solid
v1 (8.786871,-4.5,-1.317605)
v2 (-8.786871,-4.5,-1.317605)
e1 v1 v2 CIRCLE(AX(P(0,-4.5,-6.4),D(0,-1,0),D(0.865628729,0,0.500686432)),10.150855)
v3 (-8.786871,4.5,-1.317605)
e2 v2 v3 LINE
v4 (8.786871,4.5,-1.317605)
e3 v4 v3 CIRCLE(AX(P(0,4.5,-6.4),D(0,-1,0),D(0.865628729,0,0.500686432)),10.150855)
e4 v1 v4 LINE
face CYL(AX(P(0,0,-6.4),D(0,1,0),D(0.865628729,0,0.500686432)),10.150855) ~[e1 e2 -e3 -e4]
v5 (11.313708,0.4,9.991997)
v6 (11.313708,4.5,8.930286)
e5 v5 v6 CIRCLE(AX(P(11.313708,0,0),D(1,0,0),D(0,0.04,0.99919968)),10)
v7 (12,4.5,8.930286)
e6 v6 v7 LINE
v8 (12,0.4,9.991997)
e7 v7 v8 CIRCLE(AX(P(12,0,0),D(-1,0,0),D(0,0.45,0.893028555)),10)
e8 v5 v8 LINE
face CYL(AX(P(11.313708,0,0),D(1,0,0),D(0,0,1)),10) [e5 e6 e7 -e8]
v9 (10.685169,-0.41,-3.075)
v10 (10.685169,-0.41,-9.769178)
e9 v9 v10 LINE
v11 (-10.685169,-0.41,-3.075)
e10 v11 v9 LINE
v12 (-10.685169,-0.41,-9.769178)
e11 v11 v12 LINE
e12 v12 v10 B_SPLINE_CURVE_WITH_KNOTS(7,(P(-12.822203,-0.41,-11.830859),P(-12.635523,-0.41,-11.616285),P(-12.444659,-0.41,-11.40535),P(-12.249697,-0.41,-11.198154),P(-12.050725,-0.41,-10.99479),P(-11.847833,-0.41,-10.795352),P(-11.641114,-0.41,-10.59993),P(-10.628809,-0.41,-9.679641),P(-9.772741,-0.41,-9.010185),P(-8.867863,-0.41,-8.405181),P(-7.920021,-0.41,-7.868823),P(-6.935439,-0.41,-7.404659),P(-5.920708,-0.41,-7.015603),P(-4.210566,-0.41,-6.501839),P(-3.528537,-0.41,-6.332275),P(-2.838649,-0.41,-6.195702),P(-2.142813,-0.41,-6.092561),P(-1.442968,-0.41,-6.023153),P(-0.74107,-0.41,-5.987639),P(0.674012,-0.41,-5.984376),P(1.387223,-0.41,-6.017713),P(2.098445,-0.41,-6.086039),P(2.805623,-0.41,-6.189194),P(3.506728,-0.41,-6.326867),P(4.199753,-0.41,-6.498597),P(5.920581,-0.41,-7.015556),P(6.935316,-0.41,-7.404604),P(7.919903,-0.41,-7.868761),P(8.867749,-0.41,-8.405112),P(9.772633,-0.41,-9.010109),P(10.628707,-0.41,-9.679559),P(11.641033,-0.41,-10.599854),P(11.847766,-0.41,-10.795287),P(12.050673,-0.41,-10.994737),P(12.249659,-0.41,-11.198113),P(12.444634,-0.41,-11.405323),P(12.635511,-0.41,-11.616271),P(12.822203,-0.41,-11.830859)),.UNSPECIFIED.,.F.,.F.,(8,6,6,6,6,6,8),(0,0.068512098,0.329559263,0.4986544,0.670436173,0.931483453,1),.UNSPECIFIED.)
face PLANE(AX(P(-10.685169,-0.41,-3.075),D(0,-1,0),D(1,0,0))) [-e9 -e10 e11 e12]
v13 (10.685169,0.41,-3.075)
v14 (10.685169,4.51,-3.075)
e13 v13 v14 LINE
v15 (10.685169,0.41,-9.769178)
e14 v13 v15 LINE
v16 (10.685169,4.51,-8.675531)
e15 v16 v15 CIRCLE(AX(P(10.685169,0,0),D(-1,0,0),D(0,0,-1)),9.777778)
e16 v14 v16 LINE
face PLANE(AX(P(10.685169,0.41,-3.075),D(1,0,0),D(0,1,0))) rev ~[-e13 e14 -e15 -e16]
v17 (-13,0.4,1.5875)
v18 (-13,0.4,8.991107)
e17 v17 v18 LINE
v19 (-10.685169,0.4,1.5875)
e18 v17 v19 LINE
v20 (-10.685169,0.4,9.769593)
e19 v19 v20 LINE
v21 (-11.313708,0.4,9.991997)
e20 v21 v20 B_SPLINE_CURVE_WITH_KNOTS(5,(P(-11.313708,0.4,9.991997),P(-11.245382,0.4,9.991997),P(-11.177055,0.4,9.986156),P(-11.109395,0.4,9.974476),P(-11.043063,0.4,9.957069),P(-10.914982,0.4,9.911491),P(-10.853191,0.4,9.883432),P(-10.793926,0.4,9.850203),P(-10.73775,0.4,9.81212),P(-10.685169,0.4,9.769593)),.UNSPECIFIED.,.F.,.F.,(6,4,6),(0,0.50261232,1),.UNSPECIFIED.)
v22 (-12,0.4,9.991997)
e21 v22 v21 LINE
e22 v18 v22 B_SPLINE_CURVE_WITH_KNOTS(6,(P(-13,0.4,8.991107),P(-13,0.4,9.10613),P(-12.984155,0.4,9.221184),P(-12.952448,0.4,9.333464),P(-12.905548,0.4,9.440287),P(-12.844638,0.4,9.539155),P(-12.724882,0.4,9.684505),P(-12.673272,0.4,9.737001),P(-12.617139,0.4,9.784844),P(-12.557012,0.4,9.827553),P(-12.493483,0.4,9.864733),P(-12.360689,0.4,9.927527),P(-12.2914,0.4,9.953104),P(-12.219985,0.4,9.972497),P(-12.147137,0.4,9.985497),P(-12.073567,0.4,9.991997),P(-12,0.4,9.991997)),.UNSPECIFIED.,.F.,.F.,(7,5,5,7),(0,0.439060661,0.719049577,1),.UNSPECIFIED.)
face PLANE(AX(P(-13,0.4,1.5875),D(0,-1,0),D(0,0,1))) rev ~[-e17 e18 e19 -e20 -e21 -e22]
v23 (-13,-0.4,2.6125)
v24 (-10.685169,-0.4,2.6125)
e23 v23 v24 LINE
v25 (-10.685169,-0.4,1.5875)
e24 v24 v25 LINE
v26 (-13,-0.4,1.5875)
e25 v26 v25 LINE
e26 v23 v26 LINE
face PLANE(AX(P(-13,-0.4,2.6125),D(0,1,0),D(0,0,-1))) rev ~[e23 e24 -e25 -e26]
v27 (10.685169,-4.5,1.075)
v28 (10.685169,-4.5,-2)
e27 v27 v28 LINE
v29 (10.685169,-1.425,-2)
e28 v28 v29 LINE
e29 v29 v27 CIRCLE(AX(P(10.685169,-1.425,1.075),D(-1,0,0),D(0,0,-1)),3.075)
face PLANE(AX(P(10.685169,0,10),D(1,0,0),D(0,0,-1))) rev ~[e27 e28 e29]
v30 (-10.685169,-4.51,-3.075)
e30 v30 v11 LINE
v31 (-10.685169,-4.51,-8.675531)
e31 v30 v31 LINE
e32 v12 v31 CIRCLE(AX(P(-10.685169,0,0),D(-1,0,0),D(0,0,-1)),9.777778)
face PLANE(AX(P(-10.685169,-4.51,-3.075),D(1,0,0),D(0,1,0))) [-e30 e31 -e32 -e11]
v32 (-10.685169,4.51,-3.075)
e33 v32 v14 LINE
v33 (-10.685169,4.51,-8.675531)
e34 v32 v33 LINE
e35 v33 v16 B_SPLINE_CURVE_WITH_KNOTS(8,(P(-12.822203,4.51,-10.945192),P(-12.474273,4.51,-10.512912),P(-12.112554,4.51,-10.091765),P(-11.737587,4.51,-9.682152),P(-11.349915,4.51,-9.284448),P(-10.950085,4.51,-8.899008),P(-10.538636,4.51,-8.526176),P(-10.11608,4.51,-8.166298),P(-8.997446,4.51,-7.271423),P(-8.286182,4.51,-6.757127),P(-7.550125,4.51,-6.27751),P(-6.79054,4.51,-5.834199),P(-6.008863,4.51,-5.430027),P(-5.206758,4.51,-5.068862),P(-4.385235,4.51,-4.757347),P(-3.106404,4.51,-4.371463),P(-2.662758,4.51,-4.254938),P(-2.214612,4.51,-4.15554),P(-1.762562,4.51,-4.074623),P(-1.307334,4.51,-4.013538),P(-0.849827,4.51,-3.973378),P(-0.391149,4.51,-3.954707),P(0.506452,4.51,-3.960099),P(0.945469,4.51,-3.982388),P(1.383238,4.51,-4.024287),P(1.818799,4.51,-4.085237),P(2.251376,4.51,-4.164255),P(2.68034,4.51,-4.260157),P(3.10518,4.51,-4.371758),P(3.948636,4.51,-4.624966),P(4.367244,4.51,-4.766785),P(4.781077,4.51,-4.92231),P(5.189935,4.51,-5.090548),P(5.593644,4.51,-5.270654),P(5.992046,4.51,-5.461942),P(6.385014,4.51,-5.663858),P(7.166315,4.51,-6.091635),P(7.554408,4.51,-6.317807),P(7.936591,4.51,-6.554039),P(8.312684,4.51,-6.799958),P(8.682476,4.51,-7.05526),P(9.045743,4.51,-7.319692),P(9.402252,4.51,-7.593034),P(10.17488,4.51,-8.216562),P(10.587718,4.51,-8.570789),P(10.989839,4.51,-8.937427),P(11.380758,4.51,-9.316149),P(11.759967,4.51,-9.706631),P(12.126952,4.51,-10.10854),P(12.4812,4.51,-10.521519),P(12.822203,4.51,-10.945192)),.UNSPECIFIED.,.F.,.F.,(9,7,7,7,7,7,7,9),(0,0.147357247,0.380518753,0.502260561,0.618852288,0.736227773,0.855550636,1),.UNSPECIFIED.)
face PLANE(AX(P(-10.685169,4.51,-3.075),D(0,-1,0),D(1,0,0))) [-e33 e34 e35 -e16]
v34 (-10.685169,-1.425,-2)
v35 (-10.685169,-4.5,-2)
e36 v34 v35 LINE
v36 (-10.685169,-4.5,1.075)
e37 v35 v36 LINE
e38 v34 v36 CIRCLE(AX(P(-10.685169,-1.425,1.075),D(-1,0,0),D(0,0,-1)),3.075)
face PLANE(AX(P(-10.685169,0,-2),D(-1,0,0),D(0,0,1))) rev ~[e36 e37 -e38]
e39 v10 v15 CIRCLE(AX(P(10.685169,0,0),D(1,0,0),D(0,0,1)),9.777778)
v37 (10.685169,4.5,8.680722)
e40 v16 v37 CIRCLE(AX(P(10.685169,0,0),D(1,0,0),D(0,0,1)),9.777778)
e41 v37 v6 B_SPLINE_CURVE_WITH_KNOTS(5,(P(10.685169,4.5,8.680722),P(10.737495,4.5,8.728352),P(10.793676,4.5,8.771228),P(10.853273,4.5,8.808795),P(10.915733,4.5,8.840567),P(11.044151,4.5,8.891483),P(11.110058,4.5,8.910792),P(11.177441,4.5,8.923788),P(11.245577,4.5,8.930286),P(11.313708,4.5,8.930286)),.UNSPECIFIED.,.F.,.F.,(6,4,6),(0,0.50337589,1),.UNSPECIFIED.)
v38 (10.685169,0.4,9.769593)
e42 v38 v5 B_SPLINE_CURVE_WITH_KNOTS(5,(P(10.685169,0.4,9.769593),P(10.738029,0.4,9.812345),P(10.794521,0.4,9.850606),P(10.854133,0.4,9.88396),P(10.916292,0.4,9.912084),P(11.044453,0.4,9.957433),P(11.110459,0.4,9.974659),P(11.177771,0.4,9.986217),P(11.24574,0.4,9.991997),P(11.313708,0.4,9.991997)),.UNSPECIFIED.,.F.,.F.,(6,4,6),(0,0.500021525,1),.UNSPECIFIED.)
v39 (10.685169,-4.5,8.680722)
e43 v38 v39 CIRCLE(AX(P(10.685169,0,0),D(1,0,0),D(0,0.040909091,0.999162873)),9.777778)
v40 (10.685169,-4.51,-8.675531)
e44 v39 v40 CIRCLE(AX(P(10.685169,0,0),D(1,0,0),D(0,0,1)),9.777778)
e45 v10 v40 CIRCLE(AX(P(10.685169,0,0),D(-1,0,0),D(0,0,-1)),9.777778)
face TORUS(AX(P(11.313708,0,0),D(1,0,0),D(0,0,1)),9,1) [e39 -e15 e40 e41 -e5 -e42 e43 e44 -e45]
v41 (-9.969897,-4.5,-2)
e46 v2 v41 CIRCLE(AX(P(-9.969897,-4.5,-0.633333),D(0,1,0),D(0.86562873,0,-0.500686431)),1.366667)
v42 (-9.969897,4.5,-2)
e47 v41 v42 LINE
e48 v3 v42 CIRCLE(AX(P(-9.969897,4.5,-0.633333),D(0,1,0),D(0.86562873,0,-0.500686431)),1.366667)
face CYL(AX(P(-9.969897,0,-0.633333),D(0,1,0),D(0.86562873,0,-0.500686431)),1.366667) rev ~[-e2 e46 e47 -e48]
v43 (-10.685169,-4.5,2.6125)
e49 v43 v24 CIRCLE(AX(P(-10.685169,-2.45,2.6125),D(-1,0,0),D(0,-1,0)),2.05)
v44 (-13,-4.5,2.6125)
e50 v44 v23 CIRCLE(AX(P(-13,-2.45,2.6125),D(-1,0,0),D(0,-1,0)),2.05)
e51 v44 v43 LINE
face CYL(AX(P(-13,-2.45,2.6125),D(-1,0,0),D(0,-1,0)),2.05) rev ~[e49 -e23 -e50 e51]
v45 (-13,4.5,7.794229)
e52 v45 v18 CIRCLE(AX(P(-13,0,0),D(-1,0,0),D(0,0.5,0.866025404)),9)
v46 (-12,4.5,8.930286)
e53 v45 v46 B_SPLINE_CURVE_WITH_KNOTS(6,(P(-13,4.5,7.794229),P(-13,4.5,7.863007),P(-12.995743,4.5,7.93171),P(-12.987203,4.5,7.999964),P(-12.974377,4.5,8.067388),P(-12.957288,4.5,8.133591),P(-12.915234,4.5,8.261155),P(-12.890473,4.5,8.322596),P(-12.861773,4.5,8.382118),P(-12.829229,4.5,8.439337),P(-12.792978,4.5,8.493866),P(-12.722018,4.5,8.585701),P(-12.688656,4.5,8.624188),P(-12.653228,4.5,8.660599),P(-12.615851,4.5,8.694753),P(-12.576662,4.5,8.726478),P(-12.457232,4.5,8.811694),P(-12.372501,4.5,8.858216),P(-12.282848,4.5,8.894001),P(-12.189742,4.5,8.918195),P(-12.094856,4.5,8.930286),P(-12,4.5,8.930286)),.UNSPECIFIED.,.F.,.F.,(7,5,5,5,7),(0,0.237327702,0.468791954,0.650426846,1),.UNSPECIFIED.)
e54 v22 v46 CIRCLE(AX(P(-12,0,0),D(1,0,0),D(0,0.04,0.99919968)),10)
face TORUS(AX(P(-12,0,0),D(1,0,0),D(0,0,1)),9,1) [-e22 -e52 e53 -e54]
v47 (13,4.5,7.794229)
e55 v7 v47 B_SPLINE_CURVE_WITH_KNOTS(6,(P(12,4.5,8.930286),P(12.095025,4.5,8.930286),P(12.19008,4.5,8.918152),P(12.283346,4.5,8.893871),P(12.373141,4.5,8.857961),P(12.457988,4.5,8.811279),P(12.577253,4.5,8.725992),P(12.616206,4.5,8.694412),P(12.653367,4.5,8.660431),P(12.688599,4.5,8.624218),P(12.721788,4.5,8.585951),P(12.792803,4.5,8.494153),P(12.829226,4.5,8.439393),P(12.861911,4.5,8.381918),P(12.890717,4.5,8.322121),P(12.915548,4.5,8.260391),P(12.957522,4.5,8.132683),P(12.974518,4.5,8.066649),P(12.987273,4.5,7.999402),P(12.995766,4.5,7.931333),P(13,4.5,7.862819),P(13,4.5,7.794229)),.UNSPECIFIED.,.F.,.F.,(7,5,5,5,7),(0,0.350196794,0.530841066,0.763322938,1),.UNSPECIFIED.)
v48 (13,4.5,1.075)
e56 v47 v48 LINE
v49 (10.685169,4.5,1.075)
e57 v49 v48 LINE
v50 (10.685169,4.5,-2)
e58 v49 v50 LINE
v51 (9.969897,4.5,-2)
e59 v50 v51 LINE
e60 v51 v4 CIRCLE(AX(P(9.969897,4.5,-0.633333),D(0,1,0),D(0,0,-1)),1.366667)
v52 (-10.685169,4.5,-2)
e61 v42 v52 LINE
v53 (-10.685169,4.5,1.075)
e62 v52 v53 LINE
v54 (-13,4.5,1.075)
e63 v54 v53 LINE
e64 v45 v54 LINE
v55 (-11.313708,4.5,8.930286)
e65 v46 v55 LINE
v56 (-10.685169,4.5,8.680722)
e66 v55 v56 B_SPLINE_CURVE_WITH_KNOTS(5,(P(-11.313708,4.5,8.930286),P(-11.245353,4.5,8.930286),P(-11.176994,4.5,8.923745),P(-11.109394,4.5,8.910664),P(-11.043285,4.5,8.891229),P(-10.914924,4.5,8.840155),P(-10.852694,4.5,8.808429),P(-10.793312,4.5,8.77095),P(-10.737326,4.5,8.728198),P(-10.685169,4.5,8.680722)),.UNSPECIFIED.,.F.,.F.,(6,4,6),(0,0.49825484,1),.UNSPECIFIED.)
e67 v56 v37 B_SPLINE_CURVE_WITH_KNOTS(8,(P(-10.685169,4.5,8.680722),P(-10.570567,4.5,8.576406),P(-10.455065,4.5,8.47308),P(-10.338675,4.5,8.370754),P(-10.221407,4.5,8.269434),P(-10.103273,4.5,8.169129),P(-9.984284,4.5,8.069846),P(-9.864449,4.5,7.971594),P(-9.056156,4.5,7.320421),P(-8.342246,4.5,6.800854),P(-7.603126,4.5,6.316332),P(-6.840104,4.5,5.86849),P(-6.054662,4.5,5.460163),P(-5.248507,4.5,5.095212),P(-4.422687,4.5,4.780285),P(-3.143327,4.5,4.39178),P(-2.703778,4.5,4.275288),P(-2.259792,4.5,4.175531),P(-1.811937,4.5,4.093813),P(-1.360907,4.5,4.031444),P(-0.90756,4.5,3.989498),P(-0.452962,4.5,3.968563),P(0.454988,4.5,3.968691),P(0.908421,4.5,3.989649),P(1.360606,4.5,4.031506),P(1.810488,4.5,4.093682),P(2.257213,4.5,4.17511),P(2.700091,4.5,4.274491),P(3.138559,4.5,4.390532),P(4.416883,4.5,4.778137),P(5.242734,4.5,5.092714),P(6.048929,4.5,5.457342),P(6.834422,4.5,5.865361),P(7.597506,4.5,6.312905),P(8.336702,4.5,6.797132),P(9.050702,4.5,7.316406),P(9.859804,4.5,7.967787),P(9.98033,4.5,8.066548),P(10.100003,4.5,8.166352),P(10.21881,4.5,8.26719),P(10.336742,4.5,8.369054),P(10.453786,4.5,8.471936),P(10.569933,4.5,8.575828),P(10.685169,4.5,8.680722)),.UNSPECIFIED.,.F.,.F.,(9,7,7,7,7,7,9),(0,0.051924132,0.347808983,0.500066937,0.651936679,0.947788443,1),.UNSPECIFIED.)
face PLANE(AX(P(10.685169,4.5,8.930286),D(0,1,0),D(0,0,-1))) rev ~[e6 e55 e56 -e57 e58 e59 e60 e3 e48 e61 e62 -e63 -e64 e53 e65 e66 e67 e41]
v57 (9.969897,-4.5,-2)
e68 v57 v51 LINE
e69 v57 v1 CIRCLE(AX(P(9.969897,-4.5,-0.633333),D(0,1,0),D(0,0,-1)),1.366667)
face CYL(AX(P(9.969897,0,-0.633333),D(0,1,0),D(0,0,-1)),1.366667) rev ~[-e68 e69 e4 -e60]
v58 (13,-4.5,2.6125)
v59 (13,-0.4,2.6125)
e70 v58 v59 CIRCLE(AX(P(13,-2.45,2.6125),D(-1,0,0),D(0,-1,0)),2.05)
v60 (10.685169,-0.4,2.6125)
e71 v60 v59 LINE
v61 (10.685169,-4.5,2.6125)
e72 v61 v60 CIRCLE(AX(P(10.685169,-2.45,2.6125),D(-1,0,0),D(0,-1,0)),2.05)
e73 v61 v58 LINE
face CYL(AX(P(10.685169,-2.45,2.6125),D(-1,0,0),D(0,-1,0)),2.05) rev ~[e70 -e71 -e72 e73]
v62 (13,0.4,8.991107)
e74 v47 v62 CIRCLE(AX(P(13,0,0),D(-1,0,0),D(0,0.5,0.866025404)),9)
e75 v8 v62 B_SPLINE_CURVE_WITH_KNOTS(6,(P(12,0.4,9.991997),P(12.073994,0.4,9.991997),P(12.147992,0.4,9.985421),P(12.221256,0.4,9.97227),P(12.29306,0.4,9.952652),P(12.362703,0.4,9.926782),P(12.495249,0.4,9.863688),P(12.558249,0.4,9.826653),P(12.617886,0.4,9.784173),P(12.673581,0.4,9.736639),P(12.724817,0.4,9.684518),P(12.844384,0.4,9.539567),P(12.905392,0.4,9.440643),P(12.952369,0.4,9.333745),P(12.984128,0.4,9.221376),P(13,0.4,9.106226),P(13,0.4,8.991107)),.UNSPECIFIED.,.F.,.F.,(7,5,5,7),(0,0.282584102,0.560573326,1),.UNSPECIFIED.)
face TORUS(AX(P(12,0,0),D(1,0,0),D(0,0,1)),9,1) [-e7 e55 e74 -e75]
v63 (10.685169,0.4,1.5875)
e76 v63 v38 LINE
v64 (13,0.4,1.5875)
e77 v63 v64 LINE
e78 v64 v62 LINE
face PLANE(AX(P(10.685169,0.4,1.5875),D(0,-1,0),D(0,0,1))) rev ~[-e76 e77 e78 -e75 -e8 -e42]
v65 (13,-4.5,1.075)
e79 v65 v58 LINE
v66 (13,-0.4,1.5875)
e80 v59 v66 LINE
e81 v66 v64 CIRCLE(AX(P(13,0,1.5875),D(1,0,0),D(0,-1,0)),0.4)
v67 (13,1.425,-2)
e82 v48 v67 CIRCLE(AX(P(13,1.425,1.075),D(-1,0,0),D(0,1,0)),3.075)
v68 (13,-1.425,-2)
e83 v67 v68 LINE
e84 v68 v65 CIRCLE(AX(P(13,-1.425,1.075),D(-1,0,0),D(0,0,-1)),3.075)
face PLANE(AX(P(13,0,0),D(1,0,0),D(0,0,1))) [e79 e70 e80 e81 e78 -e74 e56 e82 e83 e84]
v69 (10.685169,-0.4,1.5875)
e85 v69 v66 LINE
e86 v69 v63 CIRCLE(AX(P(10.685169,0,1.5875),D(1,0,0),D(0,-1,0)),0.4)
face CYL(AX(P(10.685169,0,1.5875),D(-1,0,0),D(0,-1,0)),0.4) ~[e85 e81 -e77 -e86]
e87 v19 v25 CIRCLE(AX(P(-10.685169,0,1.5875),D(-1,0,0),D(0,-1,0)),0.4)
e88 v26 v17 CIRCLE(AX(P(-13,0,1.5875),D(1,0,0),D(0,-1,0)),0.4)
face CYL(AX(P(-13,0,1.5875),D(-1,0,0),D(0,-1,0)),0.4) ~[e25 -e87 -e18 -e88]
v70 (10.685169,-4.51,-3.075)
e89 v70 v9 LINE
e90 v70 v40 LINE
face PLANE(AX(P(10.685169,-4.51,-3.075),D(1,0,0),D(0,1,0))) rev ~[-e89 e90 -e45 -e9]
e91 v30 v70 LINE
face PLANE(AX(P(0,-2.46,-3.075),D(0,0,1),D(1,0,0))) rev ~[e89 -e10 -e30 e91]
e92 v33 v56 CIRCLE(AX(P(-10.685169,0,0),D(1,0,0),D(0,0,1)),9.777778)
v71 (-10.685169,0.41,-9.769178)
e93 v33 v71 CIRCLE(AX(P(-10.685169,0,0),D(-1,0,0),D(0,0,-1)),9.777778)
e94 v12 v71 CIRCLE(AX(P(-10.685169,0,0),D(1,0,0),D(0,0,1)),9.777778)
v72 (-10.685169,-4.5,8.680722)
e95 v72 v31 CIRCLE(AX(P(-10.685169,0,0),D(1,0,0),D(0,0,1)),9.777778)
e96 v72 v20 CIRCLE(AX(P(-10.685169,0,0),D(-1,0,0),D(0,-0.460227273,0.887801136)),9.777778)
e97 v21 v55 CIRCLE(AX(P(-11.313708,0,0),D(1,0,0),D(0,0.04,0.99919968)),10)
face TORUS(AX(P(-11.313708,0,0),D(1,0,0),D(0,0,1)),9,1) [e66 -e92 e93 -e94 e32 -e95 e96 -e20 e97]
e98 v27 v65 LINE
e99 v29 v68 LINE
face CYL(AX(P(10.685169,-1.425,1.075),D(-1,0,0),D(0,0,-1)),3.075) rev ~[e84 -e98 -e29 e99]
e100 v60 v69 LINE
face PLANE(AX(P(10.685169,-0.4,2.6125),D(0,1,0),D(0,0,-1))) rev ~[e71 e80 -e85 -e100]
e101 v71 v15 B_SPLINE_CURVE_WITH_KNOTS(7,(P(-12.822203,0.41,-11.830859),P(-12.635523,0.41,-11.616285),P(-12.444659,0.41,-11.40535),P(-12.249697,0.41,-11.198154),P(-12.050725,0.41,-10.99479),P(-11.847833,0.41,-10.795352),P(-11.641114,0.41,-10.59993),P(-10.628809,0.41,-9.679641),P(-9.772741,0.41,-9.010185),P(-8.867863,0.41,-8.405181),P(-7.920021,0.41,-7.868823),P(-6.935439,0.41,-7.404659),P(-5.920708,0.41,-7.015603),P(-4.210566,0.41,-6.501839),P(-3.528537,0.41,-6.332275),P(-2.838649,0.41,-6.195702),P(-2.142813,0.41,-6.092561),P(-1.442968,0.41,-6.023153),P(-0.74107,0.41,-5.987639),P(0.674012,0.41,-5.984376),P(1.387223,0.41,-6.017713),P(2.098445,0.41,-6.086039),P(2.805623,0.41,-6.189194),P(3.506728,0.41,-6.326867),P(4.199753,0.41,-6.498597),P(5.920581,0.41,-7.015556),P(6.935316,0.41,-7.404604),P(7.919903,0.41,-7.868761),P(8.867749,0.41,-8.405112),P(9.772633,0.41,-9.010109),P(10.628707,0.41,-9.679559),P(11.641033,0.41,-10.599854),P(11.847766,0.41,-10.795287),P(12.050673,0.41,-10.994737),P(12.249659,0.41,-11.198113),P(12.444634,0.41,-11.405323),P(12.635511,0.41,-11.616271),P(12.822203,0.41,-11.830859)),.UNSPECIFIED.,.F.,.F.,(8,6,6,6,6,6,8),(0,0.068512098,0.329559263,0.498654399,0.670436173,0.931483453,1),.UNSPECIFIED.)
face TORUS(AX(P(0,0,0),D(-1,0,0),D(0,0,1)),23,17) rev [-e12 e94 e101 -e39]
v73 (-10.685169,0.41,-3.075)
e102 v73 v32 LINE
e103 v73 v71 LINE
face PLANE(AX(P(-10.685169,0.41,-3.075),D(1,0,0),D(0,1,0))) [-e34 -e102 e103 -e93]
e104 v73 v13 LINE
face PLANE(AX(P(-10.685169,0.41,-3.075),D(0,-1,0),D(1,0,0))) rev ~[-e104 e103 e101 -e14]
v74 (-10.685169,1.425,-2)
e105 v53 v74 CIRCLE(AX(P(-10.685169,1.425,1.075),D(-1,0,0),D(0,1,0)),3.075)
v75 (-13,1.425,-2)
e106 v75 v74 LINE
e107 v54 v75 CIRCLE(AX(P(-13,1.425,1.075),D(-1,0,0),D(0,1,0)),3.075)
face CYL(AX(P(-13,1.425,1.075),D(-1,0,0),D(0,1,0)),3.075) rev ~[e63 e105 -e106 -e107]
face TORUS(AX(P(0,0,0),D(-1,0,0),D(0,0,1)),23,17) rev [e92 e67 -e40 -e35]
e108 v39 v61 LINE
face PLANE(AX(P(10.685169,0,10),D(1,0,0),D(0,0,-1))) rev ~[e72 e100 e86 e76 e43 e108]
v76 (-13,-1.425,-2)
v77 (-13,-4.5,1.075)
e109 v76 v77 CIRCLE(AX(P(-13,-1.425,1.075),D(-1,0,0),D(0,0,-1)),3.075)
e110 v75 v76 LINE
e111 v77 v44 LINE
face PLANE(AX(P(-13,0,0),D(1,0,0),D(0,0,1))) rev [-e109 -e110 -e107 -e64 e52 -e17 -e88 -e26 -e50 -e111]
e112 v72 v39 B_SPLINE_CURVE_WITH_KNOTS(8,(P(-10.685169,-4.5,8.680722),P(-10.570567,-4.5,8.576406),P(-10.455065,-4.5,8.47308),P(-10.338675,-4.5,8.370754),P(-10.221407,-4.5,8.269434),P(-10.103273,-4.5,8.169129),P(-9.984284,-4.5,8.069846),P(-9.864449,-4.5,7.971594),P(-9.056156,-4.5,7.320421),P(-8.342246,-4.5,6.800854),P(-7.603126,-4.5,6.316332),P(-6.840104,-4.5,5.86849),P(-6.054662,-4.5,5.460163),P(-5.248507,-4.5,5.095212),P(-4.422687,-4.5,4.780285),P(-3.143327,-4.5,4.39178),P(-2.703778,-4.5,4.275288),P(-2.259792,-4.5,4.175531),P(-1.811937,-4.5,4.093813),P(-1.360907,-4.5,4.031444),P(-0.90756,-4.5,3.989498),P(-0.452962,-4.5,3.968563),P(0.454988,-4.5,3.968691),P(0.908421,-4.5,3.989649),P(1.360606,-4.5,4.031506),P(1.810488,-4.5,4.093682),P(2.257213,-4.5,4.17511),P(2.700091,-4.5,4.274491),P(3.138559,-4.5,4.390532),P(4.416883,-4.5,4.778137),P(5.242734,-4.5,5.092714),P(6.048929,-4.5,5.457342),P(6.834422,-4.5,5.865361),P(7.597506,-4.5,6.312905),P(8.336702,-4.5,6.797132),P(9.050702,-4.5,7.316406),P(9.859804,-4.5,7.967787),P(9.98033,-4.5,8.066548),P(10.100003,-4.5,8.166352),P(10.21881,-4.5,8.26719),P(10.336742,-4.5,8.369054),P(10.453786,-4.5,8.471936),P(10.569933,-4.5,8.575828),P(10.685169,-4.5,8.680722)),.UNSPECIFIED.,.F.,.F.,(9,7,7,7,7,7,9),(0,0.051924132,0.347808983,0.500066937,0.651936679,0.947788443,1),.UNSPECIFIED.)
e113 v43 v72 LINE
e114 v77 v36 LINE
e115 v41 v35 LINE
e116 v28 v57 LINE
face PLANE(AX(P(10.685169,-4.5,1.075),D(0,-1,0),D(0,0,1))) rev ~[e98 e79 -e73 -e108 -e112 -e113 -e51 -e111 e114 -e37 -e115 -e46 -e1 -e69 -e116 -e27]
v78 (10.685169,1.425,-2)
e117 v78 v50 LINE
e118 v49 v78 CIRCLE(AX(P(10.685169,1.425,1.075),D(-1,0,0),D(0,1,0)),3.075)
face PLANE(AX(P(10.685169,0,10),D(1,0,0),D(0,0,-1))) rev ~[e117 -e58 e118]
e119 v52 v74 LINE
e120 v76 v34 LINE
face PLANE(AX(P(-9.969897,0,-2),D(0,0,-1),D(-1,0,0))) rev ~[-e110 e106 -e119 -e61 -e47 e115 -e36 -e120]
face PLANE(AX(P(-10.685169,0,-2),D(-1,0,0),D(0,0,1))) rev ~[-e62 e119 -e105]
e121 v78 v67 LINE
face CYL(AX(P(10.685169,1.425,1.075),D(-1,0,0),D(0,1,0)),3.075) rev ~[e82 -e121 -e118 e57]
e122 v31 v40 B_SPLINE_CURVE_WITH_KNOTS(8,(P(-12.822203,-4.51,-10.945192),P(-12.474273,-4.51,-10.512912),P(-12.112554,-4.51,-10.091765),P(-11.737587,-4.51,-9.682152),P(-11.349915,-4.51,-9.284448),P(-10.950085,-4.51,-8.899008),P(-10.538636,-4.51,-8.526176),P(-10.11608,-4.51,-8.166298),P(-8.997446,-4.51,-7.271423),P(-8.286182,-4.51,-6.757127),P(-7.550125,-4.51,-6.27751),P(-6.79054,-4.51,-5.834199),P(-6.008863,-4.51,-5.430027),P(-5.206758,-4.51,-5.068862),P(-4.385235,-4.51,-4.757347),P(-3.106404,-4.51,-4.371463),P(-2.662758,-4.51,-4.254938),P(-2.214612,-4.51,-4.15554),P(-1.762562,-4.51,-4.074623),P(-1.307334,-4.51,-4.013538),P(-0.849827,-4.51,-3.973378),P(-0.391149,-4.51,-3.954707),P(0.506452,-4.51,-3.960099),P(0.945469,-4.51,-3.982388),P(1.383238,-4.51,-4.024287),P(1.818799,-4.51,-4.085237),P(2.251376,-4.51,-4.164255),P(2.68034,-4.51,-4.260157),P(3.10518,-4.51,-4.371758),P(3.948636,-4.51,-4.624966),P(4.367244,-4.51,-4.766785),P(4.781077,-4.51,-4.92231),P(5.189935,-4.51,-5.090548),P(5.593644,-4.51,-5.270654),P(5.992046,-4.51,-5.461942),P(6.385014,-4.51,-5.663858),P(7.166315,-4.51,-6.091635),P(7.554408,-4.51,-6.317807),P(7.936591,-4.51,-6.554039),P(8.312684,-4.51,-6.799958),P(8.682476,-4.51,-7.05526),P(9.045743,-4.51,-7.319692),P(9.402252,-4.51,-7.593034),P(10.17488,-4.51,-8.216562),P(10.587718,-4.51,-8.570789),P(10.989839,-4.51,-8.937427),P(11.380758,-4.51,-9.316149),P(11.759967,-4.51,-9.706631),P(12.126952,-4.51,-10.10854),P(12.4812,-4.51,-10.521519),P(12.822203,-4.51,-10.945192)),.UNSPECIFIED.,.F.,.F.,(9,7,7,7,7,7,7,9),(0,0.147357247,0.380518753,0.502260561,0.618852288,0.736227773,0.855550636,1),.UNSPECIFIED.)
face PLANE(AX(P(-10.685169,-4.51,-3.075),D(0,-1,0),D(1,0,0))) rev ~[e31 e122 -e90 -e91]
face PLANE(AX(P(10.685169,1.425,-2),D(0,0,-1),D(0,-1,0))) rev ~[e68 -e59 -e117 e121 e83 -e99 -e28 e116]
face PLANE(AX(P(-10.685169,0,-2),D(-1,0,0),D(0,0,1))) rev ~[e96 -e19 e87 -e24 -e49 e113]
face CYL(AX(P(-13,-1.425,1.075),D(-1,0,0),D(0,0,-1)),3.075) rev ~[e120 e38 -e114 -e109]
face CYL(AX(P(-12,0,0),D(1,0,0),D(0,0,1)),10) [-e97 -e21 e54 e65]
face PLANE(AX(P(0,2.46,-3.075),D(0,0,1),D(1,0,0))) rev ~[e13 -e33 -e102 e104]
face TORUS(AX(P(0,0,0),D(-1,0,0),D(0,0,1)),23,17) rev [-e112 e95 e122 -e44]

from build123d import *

# Parameters (mm, degrees)
CUT_EXTRUDE1_DEPTH            = 4.5
CUT_EXTRUDE4_REACH            = 31.597
CUT_EXTRUDE5_START            = -2.314830862
CUT_EXTRUDE5_DEPTH            = 2.314830862
CUT_EXTRUDE6_REACH            = 22.975
CUT_EXTRUDE6_END_MAJOR_RADIUS = 23
CUT_EXTRUDE6_END_MINOR_RADIUS = 17
SKETCH10_W                    = 21.370338276
SKETCH10_H                    = 4.1


with BuildPart() as part:
    # Sketch1 → Revolve1 (revolve)
    with BuildSketch(Plane(origin=(0, 0, 0), x_dir=(1, 0, 0), z_dir=(0, 1, 0)), mode=Mode.PRIVATE) as revolve1_sk:
        with BuildLine():
            Line((11.313708499, 10), (12, 10))
            ThreePointArc((12, 10), (12.707106781, 9.707106781), (13, 9))
            Line((13, 9), (13, 0))
            Line((13, 0), (-13, 0))
            Line((-13, 0), (-13, 9))
            ThreePointArc((-13, 9), (-12.707106781, 9.707106781), (-12, 10))
            Line((-12, 10), (-11.313708499, 10))
            ThreePointArc((-11.313708499, 10), (-10.980375166, 9.942809042), (-10.685169138, 9.777777778))
            ThreePointArc((-10.685169138, 9.777777778), (0, 6), (10.685169138, 9.777777778))
            ThreePointArc((10.685169138, 9.777777778), (10.980375166, 9.942809042), (11.313708499, 10))
        make_face()
    revolve(revolve1_sk.sketch.rotate(Axis((-13, 0, 0), (1, 0, 0)), 180), axis=Axis((-13, 0, 0), (1, 0, 0)))

    # Sketch3 → Cut-Extrude1 (cut, symmetric)
    with BuildSketch(Plane(origin=(0, 0, 0), x_dir=(1, 0, 0), z_dir=(0, 1, 0))):
        with BuildLine():
            Line((-9.147669138, -10), (9.147669138, -10))
            Line((9.147669138, -10), (10.685169138, -10))
            Line((10.685169138, -10), (10.685169138, 2))
            Line((10.685169138, 2), (9.969897363, 2))
            ThreePointArc((9.969897363, 2), (9.287033253, 1.817172167), (8.786871434, 1.31760479))
            ThreePointArc((8.786871434, 1.31760479), (0, -3.750854676), (-8.786871434, 1.31760479))
            ThreePointArc((-8.786871434, 1.31760479), (-9.287033253, 1.817172167), (-9.969897363, 2))
            Line((-9.969897363, 2), (-10.685169138, 2))
            Line((-10.685169138, 2), (-10.685169138, -10))
            Line((-10.685169138, -10), (-9.147669138, -10))
        make_face()
    extrude(amount=CUT_EXTRUDE1_DEPTH, both=True, mode=Mode.SUBTRACT)

    # Cut-Extrude4: up to this face of the body (flat: up to its plane)
    cut_extrude4_end = Plane(part.part.faces().sort_by_distance((-10.685169138, 0, 3.71495774))[0])
    # Sketch6 → Cut-Extrude4 (cut, up to the picked face)
    with BuildSketch(Plane.ZY.offset(13), mode=Mode.PRIVATE) as cut_extrude4_sk1:
        with BuildLine():
            Line((1.075, -4.5), (2.6125, -4.5))
            ThreePointArc((2.6125, -4.5), (4.6625, -2.45), (2.6125, -0.4))
            Line((2.6125, -0.4), (1.5875, -0.4))
            ThreePointArc((1.5875, -0.4), (1.1875, 0), (1.5875, 0.4))
            Line((1.5875, 0.4), (9.991996797, 0.4))
            ThreePointArc((9.991996797, 0.4), (9.680686562, 2.506852148), (8.93028555, 4.5))
            Line((8.93028555, 4.5), (1.075, 4.5))
            ThreePointArc((1.075, 4.5), (-1.099353352, 3.599353352), (-2, 1.425))
            Line((-2, 1.425), (-2, -1.425))
            ThreePointArc((-2, -1.425), (-1.099353352, -3.599353352), (1.075, -4.5))
        make_face()
    cut_extrude4_tool1 = split(extrude(cut_extrude4_sk1.sketch, amount=-CUT_EXTRUDE4_REACH, mode=Mode.PRIVATE), bisect_by=cut_extrude4_end, keep=Keep.BOTH, mode=Mode.PRIVATE)
    add(cut_extrude4_tool1.solids().sort_by(Axis((-13, 0.735249, 2.995386), (1, 0, 0)))[0], mode=Mode.SUBTRACT)

    # Sketch8 → Cut-Extrude5 (cut)
    with BuildSketch(Plane(origin=(13, 0, 0), x_dir=(0, 0, -1), z_dir=(1, 0, 0)).offset(CUT_EXTRUDE5_START)):
        with BuildLine():
            Line((-1.5875, 0.4), (-9.991996797, 0.4))
            ThreePointArc((-9.991996797, 0.4), (-9.680686562, 2.506852148), (-8.93028555, 4.5))
            Line((-8.93028555, 4.5), (-1.075, 4.5))
            ThreePointArc((-1.075, 4.5), (1.099353352, 3.599353352), (2, 1.425))
            Line((2, 1.425), (2, -1.425))
            ThreePointArc((2, -1.425), (1.099353352, -3.599353352), (-1.075, -4.5))
            Line((-1.075, -4.5), (-2.6125, -4.5))
            ThreePointArc((-2.6125, -4.5), (-4.6625, -2.45), (-2.6125, -0.4))
            Line((-2.6125, -0.4), (-1.5875, -0.4))
            ThreePointArc((-1.5875, -0.4), (-1.1875, 0), (-1.5875, 0.4))
        make_face()
    extrude(amount=CUT_EXTRUDE5_DEPTH, mode=Mode.SUBTRACT)

    # Cut-Extrude6: up to this torus (the profile starts outside it)
    cut_extrude6_end = Plane(origin=(0, 0, 0), z_dir=(-1, 0, 0)) * Torus(CUT_EXTRUDE6_END_MAJOR_RADIUS, CUT_EXTRUDE6_END_MINOR_RADIUS, mode=Mode.PRIVATE)
    # Sketch10 → Cut-Extrude6 (cut, up to the surface)
    with BuildSketch(Plane.XY.offset(-3.075), mode=Mode.PRIVATE) as cut_extrude6_sk1:
        with Locations((0, 2.46)):
            Rectangle(SKETCH10_W, SKETCH10_H)
    cut_extrude6_tool1 = extrude(cut_extrude6_sk1.sketch, amount=-CUT_EXTRUDE6_REACH, mode=Mode.PRIVATE) - cut_extrude6_end
    add(cut_extrude6_tool1.solids().sort_by_distance((0, 2.46, -3.075))[0], mode=Mode.SUBTRACT)
    # Sketch10 → Cut-Extrude6 (cut, up to the surface)
    with BuildSketch(Plane.XY.offset(-3.075), mode=Mode.PRIVATE) as cut_extrude6_sk2:
        with Locations((0, -2.46)):
            Rectangle(SKETCH10_W, SKETCH10_H)
    cut_extrude6_tool2 = extrude(cut_extrude6_sk2.sketch, amount=-CUT_EXTRUDE6_REACH, mode=Mode.PRIVATE) - cut_extrude6_end
    add(cut_extrude6_tool2.solids().sort_by_distance((0, -2.46, -3.075))[0], mode=Mode.SUBTRACT)


solid = part.part
